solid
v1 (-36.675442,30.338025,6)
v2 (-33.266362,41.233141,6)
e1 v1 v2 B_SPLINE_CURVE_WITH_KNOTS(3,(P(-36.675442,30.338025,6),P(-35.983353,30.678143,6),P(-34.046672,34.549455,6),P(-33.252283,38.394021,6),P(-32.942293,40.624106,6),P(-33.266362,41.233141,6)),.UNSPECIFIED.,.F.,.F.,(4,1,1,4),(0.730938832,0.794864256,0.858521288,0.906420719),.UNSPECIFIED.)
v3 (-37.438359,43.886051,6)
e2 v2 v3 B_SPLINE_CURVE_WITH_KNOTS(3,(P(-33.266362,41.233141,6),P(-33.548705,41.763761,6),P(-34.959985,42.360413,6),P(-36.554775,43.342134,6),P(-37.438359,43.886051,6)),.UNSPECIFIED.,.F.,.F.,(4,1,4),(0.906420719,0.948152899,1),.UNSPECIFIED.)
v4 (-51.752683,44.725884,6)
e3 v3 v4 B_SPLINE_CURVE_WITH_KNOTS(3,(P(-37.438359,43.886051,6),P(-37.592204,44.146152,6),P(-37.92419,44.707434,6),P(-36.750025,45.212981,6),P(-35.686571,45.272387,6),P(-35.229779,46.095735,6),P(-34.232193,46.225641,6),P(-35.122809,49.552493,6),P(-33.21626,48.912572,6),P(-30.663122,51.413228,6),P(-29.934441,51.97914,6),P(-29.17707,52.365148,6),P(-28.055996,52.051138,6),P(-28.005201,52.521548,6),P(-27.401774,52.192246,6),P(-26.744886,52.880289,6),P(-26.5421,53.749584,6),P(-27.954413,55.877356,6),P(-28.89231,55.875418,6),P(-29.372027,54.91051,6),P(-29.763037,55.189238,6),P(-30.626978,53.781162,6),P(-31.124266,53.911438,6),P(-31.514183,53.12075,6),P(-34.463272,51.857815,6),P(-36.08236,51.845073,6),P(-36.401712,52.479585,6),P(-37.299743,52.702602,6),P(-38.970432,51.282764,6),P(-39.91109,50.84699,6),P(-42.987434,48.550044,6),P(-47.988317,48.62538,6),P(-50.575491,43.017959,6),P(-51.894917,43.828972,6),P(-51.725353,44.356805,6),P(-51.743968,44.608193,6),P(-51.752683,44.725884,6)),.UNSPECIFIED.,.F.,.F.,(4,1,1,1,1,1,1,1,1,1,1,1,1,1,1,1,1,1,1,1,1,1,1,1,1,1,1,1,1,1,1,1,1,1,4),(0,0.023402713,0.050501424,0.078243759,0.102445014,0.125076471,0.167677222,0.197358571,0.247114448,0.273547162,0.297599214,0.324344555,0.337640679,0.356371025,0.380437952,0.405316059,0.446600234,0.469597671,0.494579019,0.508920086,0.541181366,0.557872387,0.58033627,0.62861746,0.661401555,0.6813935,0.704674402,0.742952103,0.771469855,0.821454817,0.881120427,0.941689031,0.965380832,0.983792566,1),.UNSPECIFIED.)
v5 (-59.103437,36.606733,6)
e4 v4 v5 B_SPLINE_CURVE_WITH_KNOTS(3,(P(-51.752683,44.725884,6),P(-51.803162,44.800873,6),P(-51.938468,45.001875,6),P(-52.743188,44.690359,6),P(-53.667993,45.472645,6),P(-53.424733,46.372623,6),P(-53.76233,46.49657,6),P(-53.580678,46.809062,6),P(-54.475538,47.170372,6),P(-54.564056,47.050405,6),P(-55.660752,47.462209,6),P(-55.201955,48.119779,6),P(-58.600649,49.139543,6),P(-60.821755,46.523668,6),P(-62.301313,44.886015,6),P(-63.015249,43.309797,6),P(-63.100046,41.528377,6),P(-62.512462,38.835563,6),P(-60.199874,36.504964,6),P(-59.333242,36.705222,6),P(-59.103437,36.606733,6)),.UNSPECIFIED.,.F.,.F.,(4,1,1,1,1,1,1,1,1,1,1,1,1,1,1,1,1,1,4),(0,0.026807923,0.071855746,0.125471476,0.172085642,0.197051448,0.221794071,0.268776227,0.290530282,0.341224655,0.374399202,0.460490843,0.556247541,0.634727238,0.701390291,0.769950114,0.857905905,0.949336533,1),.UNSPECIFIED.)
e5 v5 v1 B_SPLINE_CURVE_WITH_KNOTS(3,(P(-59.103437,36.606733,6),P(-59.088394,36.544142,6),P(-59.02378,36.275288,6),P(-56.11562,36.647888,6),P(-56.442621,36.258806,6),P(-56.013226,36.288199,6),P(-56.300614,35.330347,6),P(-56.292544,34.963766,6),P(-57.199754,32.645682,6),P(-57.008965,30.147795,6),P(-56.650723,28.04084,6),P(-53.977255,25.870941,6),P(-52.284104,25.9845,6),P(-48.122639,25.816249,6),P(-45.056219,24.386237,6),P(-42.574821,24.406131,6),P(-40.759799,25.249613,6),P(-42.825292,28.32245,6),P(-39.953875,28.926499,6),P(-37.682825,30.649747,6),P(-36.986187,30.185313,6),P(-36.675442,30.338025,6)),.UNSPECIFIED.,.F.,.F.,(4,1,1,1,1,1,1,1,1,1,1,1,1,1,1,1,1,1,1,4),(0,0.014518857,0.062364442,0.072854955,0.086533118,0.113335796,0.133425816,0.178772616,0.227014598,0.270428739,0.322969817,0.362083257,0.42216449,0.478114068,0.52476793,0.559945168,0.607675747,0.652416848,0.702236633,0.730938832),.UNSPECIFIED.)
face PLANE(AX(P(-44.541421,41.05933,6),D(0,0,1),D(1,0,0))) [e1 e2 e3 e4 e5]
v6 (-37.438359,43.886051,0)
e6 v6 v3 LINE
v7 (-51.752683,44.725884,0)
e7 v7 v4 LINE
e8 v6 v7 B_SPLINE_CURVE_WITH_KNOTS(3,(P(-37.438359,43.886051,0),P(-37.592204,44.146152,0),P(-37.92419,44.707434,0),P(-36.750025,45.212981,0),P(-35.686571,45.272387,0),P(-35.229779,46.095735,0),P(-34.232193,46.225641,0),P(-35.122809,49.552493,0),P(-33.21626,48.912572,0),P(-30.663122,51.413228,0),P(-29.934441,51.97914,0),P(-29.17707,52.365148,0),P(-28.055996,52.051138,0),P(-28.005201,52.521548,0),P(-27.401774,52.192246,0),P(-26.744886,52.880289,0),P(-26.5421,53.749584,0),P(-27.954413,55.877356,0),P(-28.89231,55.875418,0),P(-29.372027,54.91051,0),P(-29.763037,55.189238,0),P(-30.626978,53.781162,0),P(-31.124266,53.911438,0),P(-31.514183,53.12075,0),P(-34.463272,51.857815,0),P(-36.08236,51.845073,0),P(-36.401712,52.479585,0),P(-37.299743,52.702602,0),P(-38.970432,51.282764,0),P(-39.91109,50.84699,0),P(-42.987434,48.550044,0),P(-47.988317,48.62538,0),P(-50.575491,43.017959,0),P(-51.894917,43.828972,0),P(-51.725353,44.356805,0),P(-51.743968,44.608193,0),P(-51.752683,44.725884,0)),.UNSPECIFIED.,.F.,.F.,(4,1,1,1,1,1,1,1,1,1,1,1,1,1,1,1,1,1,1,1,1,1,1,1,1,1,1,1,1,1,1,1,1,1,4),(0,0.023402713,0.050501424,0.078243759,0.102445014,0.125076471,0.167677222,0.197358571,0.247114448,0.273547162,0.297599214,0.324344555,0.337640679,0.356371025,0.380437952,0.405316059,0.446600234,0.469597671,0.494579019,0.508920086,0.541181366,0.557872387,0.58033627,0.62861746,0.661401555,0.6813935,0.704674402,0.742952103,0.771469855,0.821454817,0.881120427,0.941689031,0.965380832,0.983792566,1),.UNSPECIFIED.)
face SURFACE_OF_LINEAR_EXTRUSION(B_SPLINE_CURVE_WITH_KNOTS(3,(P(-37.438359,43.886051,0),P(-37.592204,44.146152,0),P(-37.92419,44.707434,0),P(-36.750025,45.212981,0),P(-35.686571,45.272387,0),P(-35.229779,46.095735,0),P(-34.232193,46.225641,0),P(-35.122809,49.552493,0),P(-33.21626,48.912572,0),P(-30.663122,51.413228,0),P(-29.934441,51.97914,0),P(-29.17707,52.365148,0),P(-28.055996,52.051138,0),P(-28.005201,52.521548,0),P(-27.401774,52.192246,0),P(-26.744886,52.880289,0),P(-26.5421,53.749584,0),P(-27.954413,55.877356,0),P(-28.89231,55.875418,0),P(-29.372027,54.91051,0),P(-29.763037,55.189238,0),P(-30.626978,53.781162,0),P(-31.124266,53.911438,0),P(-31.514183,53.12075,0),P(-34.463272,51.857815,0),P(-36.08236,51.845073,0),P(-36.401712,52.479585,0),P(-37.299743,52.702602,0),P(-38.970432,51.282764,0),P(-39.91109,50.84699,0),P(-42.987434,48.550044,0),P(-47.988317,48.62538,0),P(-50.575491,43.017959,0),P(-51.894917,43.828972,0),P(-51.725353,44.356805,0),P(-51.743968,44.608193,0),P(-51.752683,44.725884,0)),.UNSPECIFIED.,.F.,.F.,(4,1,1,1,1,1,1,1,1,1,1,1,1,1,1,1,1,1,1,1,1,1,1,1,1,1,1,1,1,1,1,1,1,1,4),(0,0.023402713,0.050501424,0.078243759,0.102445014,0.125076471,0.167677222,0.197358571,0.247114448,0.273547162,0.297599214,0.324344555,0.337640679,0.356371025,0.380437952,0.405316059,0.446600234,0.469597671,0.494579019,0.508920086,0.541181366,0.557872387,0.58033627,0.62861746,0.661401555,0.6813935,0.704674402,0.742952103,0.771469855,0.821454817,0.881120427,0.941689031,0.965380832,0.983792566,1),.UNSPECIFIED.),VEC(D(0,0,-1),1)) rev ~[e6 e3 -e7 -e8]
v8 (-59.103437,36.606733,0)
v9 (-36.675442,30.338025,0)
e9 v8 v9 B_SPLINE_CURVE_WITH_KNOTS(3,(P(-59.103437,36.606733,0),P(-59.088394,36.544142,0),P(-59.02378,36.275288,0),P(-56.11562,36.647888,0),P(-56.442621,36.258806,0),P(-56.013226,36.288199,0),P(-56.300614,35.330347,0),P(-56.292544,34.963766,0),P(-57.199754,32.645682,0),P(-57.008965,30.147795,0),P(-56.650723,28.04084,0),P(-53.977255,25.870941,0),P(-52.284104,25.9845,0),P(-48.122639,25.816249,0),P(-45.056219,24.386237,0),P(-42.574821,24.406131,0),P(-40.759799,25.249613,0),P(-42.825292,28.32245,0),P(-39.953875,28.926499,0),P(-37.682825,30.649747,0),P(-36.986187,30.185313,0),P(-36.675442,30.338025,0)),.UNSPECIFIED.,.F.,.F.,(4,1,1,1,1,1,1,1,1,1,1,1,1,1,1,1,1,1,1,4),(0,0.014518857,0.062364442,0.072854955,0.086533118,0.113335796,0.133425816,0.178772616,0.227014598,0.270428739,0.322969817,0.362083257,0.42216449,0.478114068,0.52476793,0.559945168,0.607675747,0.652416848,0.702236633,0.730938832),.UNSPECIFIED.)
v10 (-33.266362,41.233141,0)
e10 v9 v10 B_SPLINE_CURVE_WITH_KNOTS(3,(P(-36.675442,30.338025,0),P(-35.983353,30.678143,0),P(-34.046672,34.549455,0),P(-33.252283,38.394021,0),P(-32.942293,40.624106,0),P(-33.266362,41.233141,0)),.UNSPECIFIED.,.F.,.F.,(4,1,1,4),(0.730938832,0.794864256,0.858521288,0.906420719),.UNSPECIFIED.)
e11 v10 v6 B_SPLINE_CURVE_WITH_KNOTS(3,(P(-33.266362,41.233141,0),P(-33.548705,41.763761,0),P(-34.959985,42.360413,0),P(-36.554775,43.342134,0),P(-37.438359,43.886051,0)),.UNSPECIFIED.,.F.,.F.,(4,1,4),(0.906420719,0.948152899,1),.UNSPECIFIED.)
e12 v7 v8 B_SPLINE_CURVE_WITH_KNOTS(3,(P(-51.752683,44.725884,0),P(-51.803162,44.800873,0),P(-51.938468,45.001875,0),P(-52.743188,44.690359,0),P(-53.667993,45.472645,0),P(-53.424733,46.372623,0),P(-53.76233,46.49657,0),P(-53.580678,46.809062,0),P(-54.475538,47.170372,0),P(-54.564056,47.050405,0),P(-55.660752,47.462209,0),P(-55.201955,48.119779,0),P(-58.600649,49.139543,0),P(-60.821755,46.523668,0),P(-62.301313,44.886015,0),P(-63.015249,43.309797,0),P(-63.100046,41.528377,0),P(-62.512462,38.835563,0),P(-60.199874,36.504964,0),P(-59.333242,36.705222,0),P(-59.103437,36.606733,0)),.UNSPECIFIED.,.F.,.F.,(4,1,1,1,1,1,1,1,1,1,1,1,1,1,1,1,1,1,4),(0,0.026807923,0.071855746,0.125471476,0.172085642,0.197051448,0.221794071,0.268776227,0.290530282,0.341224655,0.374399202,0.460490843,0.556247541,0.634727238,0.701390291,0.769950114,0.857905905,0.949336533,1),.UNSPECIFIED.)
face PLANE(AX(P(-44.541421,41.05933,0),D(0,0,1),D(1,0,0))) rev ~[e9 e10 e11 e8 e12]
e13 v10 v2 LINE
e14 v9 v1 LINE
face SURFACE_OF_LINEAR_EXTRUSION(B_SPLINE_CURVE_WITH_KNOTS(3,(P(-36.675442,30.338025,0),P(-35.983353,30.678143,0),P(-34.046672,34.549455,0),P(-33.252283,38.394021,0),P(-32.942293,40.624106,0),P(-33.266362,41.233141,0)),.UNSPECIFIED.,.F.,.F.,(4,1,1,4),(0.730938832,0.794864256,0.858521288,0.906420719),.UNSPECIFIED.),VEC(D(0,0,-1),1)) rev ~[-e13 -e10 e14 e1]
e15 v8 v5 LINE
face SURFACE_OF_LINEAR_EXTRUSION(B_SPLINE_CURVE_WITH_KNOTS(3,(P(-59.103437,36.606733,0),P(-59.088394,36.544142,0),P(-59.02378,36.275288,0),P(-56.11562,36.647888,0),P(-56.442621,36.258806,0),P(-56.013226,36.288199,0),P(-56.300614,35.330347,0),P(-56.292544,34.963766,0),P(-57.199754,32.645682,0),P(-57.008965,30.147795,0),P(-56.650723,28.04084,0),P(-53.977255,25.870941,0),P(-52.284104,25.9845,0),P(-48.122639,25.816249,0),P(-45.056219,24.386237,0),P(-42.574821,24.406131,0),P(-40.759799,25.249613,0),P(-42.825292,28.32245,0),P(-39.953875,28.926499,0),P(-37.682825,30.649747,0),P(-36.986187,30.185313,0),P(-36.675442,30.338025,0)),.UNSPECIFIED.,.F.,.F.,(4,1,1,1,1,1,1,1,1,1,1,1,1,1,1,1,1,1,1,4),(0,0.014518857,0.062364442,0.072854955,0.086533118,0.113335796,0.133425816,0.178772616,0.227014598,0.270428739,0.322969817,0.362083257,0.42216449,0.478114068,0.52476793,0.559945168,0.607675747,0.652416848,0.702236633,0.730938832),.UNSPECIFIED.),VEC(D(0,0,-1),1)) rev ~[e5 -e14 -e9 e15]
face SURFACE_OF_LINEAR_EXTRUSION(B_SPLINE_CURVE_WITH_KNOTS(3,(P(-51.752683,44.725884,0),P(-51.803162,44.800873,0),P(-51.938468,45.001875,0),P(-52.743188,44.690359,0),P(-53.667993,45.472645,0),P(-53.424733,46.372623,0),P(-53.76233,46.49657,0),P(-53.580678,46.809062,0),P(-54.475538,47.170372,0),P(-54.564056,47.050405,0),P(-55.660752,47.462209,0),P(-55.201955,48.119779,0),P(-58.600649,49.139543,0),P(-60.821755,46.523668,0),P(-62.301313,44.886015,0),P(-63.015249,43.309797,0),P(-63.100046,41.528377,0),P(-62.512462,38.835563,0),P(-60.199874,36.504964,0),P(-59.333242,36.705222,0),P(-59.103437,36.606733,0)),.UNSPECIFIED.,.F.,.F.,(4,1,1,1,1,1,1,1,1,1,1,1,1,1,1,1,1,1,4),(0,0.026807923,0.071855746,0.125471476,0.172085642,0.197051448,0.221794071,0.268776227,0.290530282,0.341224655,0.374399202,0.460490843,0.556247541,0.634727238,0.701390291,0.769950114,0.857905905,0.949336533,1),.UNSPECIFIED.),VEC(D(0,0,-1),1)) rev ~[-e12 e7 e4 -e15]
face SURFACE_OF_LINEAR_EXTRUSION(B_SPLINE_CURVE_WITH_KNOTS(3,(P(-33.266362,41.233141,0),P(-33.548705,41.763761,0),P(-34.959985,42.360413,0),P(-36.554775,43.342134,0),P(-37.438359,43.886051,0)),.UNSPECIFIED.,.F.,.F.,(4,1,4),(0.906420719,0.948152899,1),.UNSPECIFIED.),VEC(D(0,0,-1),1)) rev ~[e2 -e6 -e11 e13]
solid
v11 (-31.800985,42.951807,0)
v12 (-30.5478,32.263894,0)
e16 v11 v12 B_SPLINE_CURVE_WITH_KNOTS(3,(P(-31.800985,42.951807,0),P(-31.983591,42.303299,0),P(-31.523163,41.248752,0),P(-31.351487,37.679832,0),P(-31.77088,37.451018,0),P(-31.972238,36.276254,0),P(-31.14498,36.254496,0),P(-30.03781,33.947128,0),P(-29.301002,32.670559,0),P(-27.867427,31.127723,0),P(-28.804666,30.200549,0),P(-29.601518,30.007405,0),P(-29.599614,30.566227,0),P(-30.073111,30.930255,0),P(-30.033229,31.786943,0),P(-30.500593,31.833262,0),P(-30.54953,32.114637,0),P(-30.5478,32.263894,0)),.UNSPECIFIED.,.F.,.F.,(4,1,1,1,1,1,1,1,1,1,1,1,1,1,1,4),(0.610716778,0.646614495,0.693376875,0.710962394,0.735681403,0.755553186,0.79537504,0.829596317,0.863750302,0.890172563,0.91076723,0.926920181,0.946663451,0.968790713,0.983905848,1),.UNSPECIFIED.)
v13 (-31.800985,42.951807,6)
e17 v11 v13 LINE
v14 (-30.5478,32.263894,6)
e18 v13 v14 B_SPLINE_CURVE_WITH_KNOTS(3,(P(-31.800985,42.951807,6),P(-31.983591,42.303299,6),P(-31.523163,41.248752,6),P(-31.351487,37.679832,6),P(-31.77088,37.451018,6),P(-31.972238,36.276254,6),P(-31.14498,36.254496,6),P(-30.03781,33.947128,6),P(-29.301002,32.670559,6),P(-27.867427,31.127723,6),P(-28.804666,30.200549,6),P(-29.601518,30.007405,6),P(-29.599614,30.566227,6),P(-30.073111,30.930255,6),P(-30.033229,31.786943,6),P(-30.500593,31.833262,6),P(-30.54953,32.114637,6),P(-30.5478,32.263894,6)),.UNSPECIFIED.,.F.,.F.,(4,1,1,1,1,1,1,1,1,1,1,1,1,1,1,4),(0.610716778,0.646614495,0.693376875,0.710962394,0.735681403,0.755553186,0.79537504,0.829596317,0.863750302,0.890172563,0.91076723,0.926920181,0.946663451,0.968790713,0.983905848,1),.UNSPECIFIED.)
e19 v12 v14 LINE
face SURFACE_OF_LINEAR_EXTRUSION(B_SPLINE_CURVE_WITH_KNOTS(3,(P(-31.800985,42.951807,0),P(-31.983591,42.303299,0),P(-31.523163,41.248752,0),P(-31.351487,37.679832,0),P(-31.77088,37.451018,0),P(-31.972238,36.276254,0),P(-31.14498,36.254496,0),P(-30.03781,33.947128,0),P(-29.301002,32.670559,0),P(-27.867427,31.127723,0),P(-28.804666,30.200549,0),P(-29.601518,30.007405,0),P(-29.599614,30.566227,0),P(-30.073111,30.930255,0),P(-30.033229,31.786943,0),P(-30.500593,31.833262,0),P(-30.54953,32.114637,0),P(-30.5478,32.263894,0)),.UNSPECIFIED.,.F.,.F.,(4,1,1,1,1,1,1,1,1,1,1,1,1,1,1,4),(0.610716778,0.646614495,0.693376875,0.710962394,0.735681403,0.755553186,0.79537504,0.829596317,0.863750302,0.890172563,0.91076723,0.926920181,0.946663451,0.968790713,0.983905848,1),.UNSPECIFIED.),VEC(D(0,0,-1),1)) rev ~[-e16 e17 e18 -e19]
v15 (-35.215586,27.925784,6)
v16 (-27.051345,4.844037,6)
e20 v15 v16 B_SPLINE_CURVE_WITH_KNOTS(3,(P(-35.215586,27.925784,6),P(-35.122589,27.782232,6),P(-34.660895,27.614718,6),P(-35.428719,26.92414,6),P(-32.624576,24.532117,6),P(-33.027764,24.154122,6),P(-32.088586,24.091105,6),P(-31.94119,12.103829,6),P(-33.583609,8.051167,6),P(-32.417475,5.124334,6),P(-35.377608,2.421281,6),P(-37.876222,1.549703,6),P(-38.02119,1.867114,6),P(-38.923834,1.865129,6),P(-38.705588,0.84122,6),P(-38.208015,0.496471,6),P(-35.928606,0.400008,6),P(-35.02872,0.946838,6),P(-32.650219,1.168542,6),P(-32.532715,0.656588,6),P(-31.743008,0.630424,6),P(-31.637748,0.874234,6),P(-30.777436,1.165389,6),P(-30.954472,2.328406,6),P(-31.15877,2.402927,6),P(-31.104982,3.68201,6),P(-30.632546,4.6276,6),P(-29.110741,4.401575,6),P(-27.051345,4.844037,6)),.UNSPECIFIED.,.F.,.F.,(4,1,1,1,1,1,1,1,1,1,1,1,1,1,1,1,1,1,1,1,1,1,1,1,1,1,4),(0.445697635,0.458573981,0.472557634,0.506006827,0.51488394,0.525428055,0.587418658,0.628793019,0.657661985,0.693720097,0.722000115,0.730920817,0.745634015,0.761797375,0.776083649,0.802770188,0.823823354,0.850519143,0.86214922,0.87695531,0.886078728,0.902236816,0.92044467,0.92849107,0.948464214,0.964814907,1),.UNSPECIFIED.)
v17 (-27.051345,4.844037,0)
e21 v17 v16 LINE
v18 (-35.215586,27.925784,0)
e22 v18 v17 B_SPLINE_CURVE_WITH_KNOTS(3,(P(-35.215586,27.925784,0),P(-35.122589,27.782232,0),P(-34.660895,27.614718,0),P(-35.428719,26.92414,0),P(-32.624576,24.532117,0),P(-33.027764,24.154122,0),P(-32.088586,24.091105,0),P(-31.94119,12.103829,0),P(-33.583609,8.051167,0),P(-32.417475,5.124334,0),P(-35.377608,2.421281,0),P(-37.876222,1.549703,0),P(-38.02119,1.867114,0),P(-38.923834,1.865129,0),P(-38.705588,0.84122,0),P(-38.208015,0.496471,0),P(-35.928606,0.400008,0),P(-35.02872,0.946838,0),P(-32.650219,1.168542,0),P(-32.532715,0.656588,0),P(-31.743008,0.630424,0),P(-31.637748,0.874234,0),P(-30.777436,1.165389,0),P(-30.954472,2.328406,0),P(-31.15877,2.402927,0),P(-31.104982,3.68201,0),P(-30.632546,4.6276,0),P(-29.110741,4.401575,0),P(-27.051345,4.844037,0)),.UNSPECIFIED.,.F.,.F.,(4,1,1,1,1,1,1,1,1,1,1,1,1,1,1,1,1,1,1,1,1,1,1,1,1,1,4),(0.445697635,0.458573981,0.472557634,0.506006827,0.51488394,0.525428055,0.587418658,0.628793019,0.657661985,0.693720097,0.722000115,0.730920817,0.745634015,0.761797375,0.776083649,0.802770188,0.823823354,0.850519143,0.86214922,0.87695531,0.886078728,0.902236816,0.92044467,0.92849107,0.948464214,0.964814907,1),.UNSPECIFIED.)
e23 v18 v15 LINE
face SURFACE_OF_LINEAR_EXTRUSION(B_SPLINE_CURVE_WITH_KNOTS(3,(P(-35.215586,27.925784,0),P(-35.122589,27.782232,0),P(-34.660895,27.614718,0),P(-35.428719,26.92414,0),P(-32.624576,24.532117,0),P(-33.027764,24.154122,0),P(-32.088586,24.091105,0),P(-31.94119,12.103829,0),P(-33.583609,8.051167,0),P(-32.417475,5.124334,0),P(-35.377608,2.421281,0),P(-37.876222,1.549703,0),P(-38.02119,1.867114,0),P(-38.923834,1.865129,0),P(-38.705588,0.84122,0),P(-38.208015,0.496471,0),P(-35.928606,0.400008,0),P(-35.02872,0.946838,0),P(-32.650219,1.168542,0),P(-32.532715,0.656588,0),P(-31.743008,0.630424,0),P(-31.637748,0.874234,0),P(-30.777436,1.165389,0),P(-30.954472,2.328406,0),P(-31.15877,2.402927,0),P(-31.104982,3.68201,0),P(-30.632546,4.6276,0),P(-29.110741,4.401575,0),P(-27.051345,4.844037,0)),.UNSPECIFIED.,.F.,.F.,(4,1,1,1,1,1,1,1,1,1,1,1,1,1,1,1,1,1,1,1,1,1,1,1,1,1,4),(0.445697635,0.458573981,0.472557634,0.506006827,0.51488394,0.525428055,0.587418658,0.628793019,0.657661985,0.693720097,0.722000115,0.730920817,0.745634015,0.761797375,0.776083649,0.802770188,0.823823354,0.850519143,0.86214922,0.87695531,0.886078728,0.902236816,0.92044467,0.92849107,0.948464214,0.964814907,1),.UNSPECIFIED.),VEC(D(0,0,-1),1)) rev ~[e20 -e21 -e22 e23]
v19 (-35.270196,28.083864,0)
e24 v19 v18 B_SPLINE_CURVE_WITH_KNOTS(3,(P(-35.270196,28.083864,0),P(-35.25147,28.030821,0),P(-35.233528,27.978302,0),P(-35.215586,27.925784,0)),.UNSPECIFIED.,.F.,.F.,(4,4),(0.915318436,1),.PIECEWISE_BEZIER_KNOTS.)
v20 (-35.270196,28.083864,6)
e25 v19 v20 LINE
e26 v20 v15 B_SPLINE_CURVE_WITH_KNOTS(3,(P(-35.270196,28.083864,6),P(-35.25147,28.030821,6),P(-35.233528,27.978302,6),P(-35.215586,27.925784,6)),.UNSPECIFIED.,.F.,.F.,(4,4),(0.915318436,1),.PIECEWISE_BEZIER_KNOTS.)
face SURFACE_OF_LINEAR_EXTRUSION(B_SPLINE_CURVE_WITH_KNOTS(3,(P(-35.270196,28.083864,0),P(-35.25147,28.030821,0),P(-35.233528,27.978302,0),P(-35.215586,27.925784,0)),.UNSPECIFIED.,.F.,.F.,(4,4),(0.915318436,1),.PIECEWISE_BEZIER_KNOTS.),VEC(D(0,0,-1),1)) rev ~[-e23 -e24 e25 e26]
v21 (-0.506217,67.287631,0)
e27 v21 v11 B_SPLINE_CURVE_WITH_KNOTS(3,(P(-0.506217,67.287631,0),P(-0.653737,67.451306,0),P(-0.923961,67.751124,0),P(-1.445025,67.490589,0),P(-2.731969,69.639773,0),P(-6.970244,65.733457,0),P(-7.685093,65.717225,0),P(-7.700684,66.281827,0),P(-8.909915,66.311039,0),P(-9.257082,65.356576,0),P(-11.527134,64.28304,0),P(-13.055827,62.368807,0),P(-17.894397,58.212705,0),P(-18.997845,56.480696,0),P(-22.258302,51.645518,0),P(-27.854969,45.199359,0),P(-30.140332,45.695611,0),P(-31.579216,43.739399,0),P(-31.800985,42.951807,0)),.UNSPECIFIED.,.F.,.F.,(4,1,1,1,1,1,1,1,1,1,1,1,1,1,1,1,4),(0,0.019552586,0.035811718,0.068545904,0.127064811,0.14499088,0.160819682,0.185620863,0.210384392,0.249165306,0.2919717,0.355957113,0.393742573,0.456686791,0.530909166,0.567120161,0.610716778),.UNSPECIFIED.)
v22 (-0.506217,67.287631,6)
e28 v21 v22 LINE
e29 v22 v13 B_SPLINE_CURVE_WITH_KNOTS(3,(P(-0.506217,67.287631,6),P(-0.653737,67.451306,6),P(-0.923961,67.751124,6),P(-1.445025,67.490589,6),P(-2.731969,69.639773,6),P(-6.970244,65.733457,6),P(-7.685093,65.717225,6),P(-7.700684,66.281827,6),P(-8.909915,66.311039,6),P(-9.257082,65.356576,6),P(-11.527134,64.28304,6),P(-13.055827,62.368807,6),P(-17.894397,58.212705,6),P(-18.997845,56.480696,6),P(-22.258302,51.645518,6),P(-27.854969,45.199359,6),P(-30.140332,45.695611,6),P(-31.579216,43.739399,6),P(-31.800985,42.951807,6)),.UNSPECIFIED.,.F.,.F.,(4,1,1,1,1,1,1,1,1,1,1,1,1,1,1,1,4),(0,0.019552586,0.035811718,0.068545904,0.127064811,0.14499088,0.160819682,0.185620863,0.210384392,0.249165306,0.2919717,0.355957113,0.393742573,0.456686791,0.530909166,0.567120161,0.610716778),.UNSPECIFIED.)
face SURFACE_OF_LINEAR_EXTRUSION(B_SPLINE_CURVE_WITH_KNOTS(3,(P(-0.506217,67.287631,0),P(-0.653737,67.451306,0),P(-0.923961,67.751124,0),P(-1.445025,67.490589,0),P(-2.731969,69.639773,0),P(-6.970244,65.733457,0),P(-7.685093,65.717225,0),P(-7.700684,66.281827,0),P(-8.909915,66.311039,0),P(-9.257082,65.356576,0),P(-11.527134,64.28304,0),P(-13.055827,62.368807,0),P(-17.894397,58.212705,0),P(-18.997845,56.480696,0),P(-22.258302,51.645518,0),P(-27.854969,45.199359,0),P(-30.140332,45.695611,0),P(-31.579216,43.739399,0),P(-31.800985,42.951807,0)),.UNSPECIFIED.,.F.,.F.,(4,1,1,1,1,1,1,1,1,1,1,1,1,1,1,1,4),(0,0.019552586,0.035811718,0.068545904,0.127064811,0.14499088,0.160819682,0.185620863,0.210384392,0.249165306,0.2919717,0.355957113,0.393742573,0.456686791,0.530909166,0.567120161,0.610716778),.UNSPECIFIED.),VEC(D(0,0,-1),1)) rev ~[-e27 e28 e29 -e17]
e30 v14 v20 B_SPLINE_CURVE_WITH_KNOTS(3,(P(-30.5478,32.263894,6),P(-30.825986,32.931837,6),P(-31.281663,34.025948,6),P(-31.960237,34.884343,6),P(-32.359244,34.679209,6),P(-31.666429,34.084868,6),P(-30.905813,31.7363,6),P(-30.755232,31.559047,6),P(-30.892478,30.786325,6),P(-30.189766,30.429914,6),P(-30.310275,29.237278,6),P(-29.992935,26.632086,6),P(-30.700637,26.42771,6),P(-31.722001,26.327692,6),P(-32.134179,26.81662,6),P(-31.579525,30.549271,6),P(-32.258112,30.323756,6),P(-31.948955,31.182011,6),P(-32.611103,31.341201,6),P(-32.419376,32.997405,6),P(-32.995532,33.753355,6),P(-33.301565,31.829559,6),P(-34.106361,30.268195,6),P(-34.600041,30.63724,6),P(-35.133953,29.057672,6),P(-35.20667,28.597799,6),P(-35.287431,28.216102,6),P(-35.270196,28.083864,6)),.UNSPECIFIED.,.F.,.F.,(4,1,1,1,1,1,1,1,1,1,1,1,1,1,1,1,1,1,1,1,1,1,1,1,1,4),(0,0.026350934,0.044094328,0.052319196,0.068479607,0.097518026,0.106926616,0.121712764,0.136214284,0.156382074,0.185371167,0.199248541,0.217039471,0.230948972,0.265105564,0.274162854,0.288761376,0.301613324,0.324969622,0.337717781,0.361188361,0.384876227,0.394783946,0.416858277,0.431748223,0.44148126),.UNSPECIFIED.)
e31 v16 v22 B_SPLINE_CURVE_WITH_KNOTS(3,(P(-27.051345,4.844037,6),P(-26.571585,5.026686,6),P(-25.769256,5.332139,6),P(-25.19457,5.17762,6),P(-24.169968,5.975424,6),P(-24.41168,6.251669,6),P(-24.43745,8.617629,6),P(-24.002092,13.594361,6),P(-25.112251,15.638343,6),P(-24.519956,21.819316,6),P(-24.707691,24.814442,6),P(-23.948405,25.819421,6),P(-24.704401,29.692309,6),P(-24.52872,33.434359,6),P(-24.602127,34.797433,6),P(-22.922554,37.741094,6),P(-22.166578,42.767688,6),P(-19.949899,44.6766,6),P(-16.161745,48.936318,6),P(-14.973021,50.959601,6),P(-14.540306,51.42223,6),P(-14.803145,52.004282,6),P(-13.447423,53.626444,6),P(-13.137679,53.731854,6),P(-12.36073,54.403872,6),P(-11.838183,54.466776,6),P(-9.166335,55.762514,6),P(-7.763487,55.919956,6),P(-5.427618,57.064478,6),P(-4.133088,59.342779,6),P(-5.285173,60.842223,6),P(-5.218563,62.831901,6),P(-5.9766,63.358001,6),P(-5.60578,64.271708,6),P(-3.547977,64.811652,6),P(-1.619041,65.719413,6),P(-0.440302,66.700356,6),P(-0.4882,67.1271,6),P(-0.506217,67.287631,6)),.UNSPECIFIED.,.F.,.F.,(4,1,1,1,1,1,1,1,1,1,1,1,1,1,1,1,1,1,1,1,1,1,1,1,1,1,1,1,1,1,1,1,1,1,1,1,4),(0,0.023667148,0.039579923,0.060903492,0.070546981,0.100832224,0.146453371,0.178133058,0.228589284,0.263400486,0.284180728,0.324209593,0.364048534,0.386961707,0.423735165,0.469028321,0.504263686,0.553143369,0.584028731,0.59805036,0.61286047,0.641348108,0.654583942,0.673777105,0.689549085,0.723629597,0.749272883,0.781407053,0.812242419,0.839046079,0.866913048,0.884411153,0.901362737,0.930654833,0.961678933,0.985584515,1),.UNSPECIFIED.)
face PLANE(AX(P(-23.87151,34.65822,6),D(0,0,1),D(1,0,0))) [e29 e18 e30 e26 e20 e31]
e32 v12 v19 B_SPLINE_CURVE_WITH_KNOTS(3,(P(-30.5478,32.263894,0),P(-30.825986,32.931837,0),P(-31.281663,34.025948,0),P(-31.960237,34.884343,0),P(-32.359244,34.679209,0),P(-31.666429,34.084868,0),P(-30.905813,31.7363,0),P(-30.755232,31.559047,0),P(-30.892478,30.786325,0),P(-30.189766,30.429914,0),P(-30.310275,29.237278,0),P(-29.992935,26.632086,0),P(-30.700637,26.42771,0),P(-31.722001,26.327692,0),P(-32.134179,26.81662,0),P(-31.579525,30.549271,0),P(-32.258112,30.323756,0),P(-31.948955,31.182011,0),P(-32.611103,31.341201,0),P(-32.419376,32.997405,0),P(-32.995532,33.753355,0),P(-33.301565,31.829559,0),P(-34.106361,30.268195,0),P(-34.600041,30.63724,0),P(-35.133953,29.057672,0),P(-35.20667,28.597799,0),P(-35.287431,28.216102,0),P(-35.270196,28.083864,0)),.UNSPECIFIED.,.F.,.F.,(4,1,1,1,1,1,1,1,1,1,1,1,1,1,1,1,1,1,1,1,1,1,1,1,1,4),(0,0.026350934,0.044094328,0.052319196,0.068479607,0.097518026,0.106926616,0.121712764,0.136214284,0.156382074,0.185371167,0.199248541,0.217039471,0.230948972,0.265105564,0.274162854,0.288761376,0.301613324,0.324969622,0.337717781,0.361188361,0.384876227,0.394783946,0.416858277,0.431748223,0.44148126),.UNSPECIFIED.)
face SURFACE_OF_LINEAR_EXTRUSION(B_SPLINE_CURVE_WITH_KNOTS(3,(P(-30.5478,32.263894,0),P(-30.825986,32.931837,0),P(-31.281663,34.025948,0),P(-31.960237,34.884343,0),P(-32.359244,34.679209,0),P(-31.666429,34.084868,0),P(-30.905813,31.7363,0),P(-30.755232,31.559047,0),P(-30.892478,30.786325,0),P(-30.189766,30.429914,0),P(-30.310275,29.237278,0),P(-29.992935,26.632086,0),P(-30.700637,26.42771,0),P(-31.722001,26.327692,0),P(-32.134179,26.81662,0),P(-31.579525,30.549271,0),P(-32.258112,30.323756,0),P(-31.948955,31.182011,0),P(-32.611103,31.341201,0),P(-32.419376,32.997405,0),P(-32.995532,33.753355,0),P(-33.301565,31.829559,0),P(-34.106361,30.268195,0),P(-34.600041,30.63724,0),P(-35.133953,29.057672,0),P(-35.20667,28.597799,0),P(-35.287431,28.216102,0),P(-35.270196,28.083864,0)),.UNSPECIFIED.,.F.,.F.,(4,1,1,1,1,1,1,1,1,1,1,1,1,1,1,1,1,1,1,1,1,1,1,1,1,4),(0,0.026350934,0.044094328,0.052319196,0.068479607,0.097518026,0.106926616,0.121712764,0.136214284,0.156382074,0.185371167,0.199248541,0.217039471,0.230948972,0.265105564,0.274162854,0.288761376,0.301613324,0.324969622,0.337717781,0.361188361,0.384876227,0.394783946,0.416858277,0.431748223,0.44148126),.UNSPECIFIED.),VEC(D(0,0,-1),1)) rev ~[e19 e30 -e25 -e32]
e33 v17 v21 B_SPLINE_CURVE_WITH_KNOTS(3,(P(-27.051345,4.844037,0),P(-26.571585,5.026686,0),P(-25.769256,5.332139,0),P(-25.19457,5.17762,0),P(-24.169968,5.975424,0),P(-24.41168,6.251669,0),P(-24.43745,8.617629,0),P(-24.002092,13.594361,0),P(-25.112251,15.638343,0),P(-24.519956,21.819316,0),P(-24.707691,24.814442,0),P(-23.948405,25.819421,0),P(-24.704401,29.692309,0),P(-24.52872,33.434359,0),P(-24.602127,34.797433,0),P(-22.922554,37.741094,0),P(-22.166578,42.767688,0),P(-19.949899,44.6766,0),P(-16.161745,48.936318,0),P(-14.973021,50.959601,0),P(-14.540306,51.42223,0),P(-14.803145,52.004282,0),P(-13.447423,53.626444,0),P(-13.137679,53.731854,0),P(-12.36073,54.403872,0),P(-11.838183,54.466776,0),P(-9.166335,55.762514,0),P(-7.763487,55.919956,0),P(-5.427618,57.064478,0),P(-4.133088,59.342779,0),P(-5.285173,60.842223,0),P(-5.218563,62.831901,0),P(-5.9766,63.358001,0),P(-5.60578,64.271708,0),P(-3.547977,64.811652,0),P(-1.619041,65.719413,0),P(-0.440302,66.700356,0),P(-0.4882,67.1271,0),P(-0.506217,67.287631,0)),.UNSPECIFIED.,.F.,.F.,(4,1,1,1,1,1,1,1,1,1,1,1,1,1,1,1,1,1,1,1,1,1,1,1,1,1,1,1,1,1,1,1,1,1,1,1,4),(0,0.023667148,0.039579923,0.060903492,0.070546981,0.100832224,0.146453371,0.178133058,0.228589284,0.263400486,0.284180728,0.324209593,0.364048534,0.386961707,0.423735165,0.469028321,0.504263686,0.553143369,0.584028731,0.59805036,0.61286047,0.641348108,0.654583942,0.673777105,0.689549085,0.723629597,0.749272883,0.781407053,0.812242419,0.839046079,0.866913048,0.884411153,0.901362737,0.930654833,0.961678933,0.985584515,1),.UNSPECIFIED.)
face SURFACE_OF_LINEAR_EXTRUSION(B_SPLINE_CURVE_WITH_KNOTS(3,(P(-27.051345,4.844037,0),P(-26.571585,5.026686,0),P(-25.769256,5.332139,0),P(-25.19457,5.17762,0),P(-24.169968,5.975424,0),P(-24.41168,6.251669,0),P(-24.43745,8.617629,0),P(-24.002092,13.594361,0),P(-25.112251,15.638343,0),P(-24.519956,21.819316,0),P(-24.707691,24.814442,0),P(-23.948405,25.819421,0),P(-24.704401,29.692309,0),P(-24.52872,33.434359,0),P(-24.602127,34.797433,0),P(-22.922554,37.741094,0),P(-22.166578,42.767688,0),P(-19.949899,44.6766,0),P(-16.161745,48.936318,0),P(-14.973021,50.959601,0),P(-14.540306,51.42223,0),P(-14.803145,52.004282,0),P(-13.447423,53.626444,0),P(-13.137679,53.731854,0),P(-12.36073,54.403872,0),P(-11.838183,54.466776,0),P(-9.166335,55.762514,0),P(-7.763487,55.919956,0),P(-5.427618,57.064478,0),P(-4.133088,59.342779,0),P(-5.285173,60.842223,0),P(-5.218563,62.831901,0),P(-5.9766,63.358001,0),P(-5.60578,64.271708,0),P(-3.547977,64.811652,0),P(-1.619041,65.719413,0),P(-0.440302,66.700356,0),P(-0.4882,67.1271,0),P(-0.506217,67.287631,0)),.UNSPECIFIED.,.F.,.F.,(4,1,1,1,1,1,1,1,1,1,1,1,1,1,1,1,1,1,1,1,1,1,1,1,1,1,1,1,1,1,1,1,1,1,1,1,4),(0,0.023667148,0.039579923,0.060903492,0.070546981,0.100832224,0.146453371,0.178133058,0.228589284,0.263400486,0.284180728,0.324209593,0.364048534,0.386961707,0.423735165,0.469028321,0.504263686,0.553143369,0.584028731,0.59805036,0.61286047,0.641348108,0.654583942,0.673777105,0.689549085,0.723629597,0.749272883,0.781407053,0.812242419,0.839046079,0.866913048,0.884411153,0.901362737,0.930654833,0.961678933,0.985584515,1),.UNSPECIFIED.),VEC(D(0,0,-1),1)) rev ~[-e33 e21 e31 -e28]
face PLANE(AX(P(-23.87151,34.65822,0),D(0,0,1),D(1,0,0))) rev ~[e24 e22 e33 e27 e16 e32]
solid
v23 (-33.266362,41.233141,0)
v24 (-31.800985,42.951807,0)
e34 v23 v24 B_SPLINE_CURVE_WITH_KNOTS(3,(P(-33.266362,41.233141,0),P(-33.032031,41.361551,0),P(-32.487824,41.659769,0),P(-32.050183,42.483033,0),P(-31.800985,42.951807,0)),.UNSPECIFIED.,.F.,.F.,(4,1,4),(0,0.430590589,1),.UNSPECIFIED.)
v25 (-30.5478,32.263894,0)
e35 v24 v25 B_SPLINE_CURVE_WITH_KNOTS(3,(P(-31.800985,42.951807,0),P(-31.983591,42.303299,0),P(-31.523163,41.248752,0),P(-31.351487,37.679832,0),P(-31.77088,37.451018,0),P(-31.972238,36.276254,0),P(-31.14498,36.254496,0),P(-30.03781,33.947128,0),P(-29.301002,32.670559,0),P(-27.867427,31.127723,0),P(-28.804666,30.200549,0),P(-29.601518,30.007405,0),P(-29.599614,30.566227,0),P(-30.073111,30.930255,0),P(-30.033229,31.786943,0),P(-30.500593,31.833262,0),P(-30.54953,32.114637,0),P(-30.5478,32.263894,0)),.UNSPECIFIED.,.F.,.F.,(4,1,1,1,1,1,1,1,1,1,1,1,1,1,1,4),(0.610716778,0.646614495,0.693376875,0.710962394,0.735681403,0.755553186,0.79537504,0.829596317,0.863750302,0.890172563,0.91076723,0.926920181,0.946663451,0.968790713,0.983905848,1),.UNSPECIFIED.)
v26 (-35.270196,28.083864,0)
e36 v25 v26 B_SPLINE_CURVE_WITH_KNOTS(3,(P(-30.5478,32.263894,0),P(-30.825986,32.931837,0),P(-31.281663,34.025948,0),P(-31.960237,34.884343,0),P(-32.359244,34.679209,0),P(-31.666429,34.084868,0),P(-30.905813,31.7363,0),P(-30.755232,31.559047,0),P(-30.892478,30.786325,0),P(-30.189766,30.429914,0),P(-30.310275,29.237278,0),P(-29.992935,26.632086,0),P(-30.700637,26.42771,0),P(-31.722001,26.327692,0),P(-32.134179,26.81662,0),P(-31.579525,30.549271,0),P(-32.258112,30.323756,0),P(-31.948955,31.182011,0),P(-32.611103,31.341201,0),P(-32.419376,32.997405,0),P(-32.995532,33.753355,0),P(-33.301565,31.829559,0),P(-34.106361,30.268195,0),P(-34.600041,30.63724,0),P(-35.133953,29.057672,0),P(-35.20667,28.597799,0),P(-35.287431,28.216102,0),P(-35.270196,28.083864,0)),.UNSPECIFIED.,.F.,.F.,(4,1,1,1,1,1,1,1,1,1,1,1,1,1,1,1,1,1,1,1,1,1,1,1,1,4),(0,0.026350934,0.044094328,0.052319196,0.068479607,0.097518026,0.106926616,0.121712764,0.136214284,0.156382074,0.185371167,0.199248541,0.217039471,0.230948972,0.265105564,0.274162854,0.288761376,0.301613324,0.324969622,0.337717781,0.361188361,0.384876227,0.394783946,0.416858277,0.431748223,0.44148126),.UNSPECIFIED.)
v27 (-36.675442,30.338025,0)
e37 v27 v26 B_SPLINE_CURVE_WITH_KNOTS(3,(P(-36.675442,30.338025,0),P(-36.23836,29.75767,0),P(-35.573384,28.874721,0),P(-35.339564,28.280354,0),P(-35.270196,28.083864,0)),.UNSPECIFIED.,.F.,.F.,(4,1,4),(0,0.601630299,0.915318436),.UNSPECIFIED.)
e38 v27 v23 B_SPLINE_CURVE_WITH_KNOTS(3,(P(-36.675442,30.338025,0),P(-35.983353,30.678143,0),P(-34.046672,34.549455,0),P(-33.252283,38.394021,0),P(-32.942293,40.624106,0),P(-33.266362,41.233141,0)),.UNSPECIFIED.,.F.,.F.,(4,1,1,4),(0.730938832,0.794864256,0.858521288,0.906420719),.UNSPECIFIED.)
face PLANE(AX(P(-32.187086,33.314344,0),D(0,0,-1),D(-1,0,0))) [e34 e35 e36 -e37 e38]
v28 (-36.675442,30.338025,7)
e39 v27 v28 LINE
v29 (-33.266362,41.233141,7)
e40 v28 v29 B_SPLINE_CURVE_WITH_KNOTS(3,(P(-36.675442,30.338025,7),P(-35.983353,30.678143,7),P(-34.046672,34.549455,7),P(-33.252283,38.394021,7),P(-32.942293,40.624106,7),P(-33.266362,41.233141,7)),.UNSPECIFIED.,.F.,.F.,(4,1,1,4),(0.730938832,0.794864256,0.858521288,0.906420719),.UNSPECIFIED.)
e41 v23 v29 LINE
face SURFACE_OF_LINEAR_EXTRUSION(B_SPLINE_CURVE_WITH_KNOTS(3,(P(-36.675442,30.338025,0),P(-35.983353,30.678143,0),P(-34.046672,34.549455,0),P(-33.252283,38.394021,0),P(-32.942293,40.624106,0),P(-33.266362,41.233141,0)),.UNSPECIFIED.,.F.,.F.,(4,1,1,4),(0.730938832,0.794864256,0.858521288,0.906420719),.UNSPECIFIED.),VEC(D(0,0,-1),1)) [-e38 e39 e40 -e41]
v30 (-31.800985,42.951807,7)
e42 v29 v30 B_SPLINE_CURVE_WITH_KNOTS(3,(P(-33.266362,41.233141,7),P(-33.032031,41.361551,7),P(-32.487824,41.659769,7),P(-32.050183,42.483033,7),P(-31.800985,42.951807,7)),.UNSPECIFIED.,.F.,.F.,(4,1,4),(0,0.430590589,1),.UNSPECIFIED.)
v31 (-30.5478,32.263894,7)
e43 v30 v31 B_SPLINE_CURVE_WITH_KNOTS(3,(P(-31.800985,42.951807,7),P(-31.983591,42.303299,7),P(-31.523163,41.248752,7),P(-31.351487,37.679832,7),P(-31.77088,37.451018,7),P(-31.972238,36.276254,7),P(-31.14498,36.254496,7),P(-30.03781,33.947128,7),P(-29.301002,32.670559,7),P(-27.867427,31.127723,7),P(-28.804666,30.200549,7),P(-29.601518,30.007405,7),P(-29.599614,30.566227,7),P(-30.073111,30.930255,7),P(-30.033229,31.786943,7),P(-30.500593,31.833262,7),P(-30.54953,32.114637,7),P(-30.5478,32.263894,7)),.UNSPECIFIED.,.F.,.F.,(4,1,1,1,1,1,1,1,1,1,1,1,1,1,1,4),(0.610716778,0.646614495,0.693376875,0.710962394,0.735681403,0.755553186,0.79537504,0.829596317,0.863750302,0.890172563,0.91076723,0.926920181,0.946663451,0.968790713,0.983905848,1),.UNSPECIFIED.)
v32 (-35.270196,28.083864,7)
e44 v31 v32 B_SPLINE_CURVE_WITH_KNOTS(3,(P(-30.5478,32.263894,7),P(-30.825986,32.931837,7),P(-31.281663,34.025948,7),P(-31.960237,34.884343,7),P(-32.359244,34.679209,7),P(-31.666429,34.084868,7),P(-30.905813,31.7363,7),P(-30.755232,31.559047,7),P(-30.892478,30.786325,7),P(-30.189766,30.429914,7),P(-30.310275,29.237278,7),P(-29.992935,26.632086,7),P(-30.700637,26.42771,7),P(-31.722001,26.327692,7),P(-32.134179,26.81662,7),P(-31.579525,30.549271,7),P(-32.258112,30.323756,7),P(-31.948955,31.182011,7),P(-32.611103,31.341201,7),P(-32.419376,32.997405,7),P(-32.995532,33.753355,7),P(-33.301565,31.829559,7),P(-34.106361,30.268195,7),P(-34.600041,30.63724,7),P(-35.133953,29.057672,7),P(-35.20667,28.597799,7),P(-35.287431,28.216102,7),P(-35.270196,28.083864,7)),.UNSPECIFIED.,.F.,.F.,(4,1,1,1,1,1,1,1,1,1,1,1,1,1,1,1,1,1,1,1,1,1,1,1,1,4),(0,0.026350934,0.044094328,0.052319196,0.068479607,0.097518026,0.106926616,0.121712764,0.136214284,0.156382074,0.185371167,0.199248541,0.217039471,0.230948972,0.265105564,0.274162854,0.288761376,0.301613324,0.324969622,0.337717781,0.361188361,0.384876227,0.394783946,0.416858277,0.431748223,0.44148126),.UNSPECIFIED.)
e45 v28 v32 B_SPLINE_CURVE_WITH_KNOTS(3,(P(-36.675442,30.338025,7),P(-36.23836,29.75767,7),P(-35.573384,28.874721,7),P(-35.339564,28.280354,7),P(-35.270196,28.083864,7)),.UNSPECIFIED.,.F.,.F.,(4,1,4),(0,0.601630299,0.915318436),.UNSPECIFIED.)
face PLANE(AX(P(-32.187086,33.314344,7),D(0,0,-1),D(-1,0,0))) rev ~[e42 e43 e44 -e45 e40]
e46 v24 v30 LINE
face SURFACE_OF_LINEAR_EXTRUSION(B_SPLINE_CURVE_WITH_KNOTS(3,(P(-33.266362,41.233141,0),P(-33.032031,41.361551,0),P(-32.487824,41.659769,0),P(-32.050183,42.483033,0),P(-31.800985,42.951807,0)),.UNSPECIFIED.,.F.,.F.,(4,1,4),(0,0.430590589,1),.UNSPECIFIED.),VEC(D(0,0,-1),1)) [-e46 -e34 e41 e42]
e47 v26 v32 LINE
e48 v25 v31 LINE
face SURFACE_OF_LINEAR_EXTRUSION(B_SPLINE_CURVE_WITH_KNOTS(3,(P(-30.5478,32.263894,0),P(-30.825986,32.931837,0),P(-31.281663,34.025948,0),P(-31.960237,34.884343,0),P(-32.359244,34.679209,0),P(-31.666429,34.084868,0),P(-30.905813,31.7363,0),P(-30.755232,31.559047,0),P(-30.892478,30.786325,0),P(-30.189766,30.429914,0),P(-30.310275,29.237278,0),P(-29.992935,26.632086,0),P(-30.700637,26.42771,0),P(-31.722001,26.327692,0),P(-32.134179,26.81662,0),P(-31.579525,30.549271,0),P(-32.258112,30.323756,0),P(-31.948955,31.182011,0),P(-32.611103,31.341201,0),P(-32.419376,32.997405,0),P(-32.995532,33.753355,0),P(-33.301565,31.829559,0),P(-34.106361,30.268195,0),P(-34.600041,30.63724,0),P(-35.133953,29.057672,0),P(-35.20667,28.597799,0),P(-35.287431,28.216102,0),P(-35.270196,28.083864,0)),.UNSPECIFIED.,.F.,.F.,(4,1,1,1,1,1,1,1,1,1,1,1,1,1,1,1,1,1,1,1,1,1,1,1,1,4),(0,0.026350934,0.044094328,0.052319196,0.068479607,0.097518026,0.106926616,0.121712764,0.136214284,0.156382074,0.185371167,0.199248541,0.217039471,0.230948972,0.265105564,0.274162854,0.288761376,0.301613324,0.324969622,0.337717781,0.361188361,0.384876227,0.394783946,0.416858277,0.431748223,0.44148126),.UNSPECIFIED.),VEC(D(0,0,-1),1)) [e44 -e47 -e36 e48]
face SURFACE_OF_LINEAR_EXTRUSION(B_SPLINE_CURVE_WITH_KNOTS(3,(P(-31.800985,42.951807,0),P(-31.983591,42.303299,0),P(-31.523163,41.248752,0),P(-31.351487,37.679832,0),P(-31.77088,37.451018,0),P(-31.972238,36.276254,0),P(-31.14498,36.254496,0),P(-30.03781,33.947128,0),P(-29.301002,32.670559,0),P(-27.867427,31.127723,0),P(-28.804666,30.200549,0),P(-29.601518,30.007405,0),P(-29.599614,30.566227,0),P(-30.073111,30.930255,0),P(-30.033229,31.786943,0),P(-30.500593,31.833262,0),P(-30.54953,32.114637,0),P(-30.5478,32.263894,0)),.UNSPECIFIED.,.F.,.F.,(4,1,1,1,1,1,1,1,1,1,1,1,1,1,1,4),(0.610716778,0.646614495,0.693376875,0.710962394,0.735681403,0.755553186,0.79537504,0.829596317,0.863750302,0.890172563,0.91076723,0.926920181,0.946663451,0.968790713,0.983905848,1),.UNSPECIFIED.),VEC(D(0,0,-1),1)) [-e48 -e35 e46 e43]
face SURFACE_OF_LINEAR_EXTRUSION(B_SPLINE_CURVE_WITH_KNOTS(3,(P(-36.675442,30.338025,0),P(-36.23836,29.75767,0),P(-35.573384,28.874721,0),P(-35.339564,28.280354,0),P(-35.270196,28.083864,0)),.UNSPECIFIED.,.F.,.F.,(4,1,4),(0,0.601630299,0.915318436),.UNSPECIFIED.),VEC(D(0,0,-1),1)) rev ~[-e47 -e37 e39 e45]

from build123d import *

# Parameters (mm, degrees)
F1_DEPTH = 6
F2_DEPTH = 7


with BuildPart() as f1:
    # F0 (on Top) → F1 (new body)
    with BuildSketch(Plane.XY):
        with BuildLine():
            add(Edge.make_bspline(
                [(-37.4383591115, 43.8860505819), (-37.5922037064, 44.1461524764), (-37.9241896232, 44.7074342425), (-36.7500254387, 45.2129809211), (-35.686571316, 45.2723867407), (-35.2297792602, 46.0957349356), (-34.2321932477, 46.2256408688), (-35.1228094568, 49.5524932795), (-33.2162595679, 48.9125717062), (-30.6631219351, 51.4132284412), (-29.9344414313, 51.9791404191), (-29.177069738, 52.365147907), (-28.055995878, 52.0511383246), (-28.0052005078, 52.5215481562), (-27.4017738984, 52.1922459973), (-26.7448857441, 52.880288695), (-26.5421000495, 53.7495844087), (-27.9544134397, 55.8773558018), (-28.8923098102, 55.8754182778), (-29.3720268326, 54.9105095398), (-29.7630370961, 55.1892381953), (-30.6269776516, 53.7811623089), (-31.1242664672, 53.9114384939), (-31.5141826378, 53.1207497994), (-34.4632717458, 51.8578154603), (-36.0823602954, 51.8450729867), (-36.4017117071, 52.4795845874), (-37.2997431718, 52.7026018314), (-38.970431851, 51.2827644957), (-39.9110902355, 50.8469896884), (-42.9874335864, 48.5500443996), (-47.9883169371, 48.6253798144), (-50.5754905137, 43.0179590107), (-51.8949170662, 43.8289721488), (-51.7253529565, 44.3568051163), (-51.7439679248, 44.6081930656), (-51.7526827753, 44.7258837521)],
                knots=[0, 0, 0, 0, 0.023402713, 0.0505014241, 0.078243759, 0.1024450143, 0.1250764709, 0.1676772223, 0.1973585708, 0.2471144478, 0.2735471624, 0.297599214, 0.3243445551, 0.3376406788, 0.3563710246, 0.3804379521, 0.4053160592, 0.4466002339, 0.4695976706, 0.4945790187, 0.5089200864, 0.5411813657, 0.5578723867, 0.5803362699, 0.6286174597, 0.661401555, 0.6813934998, 0.7046744024, 0.7429521034, 0.7714698551, 0.8214548166, 0.8811204271, 0.9416890308, 0.9653808321, 0.9837925658, 1, 1, 1, 1], degree=3))
            add(Edge.make_bspline(
                [(-51.7526827753, 44.7258837521), (-51.8031623924, 44.8008734388), (-51.938467559, 45.0018752021), (-52.7431876727, 44.6903589681), (-53.6679933193, 45.4726450871), (-53.4247327427, 46.3726233814), (-53.7623298188, 46.496569747), (-53.5806776466, 46.8090624032), (-54.4755384717, 47.1703721438), (-54.5640556487, 47.0504045065), (-55.6607521141, 47.4622088467), (-55.2019545635, 48.1197792417), (-58.6006493801, 49.1395427323), (-60.8217553767, 46.5236683663), (-62.3013125819, 44.8860146269), (-63.0152491598, 43.3097968179), (-63.1000463462, 41.5283773342), (-62.512461762, 38.8355627574), (-60.1998740627, 36.5049641069), (-59.333242476, 36.7052219808), (-59.1034367681, 36.6067327559)],
                knots=[0, 0, 0, 0, 0.0268079234, 0.071855746, 0.1254714761, 0.1720856418, 0.1970514479, 0.2217940713, 0.2687762271, 0.2905302816, 0.3412246549, 0.374399202, 0.4604908433, 0.5562475412, 0.6347272375, 0.7013902907, 0.7699501136, 0.8579059053, 0.9493365333, 1, 1, 1, 1], degree=3))
            add(Edge.make_bspline(
                [(-59.1034367681, 36.6067327559), (-59.0883942259, 36.5441418052), (-59.0237803431, 36.2752880232), (-56.1156201325, 36.6478881787), (-56.4426209586, 36.2588059332), (-56.0132256534, 36.288198829), (-56.3006142919, 35.3303465437), (-56.2925444506, 34.9637656418), (-57.1997540377, 32.6456817144), (-57.0089645476, 30.1477948486), (-56.6507229215, 28.0408401285), (-53.9772548174, 25.870940761), (-52.2841036909, 25.9844997015), (-48.1226391415, 25.8162494482), (-45.0562185052, 24.3862367441), (-42.574821013, 24.4061312537), (-40.7597990869, 25.2496125489), (-42.8252923629, 28.3224498432), (-39.9538749836, 28.9264991842), (-37.682825416, 30.6497468766), (-36.9861867326, 30.1853134735), (-36.6754420102, 30.3380247205)],
                knots=[0, 0, 0, 0, 0.0145188573, 0.0623644416, 0.0728549549, 0.0865331181, 0.1133357964, 0.1334258164, 0.1787726159, 0.2270145983, 0.270428739, 0.3229698168, 0.3620832571, 0.4221644896, 0.4781140683, 0.5247679296, 0.5599451677, 0.6076757468, 0.6524168484, 0.7022366325, 0.730938832, 0.730938832, 0.730938832, 0.730938832], degree=3))
            add(Edge.make_bspline(
                [(-36.6754420102, 30.3380247205), (-35.983352609, 30.6781425983), (-34.0466723667, 34.5494549383), (-33.2522831009, 38.3940211283), (-32.9422929632, 40.624105503), (-33.2663618028, 41.2331409752)],
                knots=[0.730938832, 0.730938832, 0.730938832, 0.730938832, 0.7948642557, 0.8585212876, 0.9064207194, 0.9064207194, 0.9064207194, 0.9064207194], degree=3))
            add(Edge.make_bspline(
                [(-33.2663618028, 41.2331409752), (-33.5487054251, 41.7637605853), (-34.9599851099, 42.3604134711), (-36.5547745423, 43.3421337201), (-37.4383591115, 43.8860505819)],
                knots=[0.9064207194, 0.9064207194, 0.9064207194, 0.9064207194, 0.9481528993, 1, 1, 1, 1], degree=3))
        make_face()
    extrude(amount=F1_DEPTH)


with BuildPart() as f1b:
    # F0 (on Top) → F1, piece 2 (new body)
    with BuildSketch(Plane.XY):
        with BuildLine():
            add(Edge.make_bspline(
                [(-30.5477995425, 32.2638936341), (-30.8259861982, 32.9318374784), (-31.2816634665, 34.0259475666), (-31.9602367436, 34.8843429425), (-32.3592444627, 34.6792088573), (-31.6664294702, 34.0848684637), (-30.9058128534, 31.7362996505), (-30.7552317832, 31.5590472352), (-30.8924777047, 30.786324938), (-30.1897658271, 30.4299136187), (-30.3102745341, 29.2372777766), (-29.9929347991, 26.6320859943), (-30.7006366063, 26.4277102856), (-31.7220006078, 26.3276921777), (-32.1341794292, 26.8166201283), (-31.5795252587, 30.5492707862), (-32.2581120518, 30.3237563387), (-31.9489549464, 31.1820106544), (-32.6111029681, 31.3412009001), (-32.4193759611, 32.9974050461), (-32.9955320646, 33.7533551936), (-33.3015650113, 31.8295593185), (-34.1063608356, 30.2681945805), (-34.6000410032, 30.6372395968), (-35.1339531533, 29.0576720566), (-35.2066699544, 28.5977991996), (-35.2874309994, 28.2161022776), (-35.2701960817, 28.0838639306)],
                knots=[0, 0, 0, 0, 0.026350934, 0.0440943278, 0.0523191965, 0.0684796068, 0.0975180261, 0.1069266163, 0.1217127643, 0.1362142844, 0.1563820745, 0.1853711669, 0.199248541, 0.2170394707, 0.2309489717, 0.2651055639, 0.2741628536, 0.2887613758, 0.3016133236, 0.3249696218, 0.3377177808, 0.3611883611, 0.384876227, 0.3947839463, 0.416858277, 0.4317482235, 0.4414812599, 0.4414812599, 0.4414812599, 0.4414812599], degree=3))
            add(Edge.make_bspline(
                [(-35.2701960817, 28.0838639306), (-35.2514698901, 28.0308205053), (-35.233528157, 27.9783021368), (-35.2155864239, 27.9257837683)],
                knots=[0.9153184365, 0.9153184365, 0.9153184365, 0.9153184365, 1, 1, 1, 1], degree=3))
            add(Edge.make_bspline(
                [(-35.2155864239, 27.9257837683), (-35.1225894441, 27.782231859), (-34.6608945354, 27.614717869), (-35.4287186056, 26.9241398056), (-32.6245758386, 24.5321166679), (-33.0277636384, 24.1541216624), (-32.0885858298, 24.0911045909), (-31.9411897651, 12.1038293897), (-33.5836089863, 8.051166642), (-32.4174748212, 5.1243343643), (-35.3776083056, 2.4212814166), (-37.8762216183, 1.5497030489), (-38.0211900926, 1.8671135421), (-38.9238343546, 1.8651286022), (-38.7055881932, 0.8412195129), (-38.2080148566, 0.4964705787), (-35.9286064778, 0.4000078887), (-35.0287203768, 0.9468382475), (-32.6502192496, 1.1685415698), (-32.532715294, 0.65658837), (-31.7430080487, 0.6304241584), (-31.6377484617, 0.8742342732), (-30.7774356885, 1.165388718), (-30.9544720827, 2.3284060591), (-31.158770279, 2.4029265582), (-31.104981997, 3.6820102301), (-30.6325457375, 4.6275997449), (-29.1107411732, 4.4015754198), (-27.0513445139, 4.8440368846)],
                knots=[0.4456976348, 0.4456976348, 0.4456976348, 0.4456976348, 0.4585739807, 0.4725576344, 0.5060068273, 0.5148839401, 0.5254280548, 0.5874186576, 0.6287930189, 0.6576619848, 0.6937200974, 0.7220001149, 0.7309208169, 0.7456340152, 0.761797375, 0.7760836495, 0.8027701879, 0.8238233535, 0.8505191429, 0.8621492205, 0.8769553095, 0.8860787277, 0.9022368158, 0.9204446704, 0.9284910699, 0.9484642143, 0.9648149069, 1, 1, 1, 1], degree=3))
            add(Edge.make_bspline(
                [(-27.0513445139, 4.8440368846), (-26.5715850361, 5.02668558), (-25.7692558933, 5.3321394126), (-25.1945696671, 5.1776198493), (-24.1699680164, 5.9754241401), (-24.4116801624, 6.2516694153), (-24.4374501762, 8.6176287809), (-24.0020917074, 13.5943611221), (-25.1122509655, 15.6383425614), (-24.519956342, 21.8193155119), (-24.7076905628, 24.8144418561), (-23.9484046471, 25.8194209262), (-24.704400714, 29.692309476), (-24.5287199142, 33.4343587304), (-24.6021269008, 34.7974330264), (-22.9225541127, 37.7410940651), (-22.166577687, 42.7676878783), (-19.9498989296, 44.6766003341), (-16.1617451148, 48.9363176691), (-14.973021169, 50.9596005241), (-14.5403063749, 51.4222300614), (-14.803145411, 52.0042819573), (-13.4474233312, 53.6264440966), (-13.1376790476, 53.7318536856), (-12.3607297609, 54.4038722663), (-11.8381828715, 54.4667755875), (-9.1663354896, 55.7625136469), (-7.763487121, 55.9199559546), (-5.4276180463, 57.0644778772), (-4.1330877594, 59.3427786116), (-5.285172611, 60.8422234277), (-5.218563354, 62.8319014001), (-5.9765998061, 63.3580009312), (-5.6057798054, 64.271708433), (-3.5479768912, 64.8116517948), (-1.6190407064, 65.7194126331), (-0.4403022411, 66.7003558794), (-0.4881996106, 67.1271001649), (-0.506217475, 67.2876313329)],
                knots=[0, 0, 0, 0, 0.0236671485, 0.0395799225, 0.0609034924, 0.0705469814, 0.1008322238, 0.1464533707, 0.1781330576, 0.2285892844, 0.2634004859, 0.2841807279, 0.3242095931, 0.3640485341, 0.3869617071, 0.4237351652, 0.4690283206, 0.5042636855, 0.5531433693, 0.584028731, 0.5980503604, 0.61286047, 0.6413481076, 0.6545839422, 0.6737771046, 0.689549085, 0.7236295975, 0.749272883, 0.7814070532, 0.8122424185, 0.8390460795, 0.8669130477, 0.8844111525, 0.9013627368, 0.9306548326, 0.9616789329, 0.9855845154, 1, 1, 1, 1], degree=3))
            add(Edge.make_bspline(
                [(-0.506217475, 67.2876313329), (-0.6537367831, 67.4513061432), (-0.9239609841, 67.7511238106), (-1.4450250762, 67.4905888144), (-2.731968677, 69.6397734175), (-6.9702444973, 65.7334571811), (-7.6850931813, 65.7172250878), (-7.7006838289, 66.2818273814), (-8.9099153739, 66.311038728), (-9.2570823525, 65.356575894), (-11.5271342324, 64.2830400177), (-13.0558267349, 62.368806712), (-17.8943966838, 58.212705388), (-18.9978445878, 56.4806960241), (-22.2583024945, 51.6455176424), (-27.8549691264, 45.1993592961), (-30.1403324886, 45.6956114979), (-31.5792162756, 43.7393994248), (-31.8009853363, 42.9518073797)],
                knots=[0, 0, 0, 0, 0.0195525864, 0.035811718, 0.0685459036, 0.1270648111, 0.1449908802, 0.1608196821, 0.1856208627, 0.2103843916, 0.2491653059, 0.2919717004, 0.3559571131, 0.393742573, 0.4566867913, 0.5309091658, 0.567120161, 0.6107167779, 0.6107167779, 0.6107167779, 0.6107167779], degree=3))
            add(Edge.make_bspline(
                [(-31.8009853363, 42.9518073797), (-31.9835913162, 42.3032993477), (-31.5231626493, 41.2487520705), (-31.3514866101, 37.6798323756), (-31.7708803543, 37.451018234), (-31.9722383495, 36.2762544023), (-31.1449799863, 36.2544957586), (-30.0378102711, 33.9471282602), (-29.3010020442, 32.6705591271), (-27.8674265498, 31.1277234947), (-28.8046664653, 30.2005494014), (-29.6015184284, 30.0074054541), (-29.5996137081, 30.566226712), (-30.0731113389, 30.9302547356), (-30.0332290243, 31.7869425738), (-30.50059334, 31.8332616908), (-30.5495296596, 32.1146365113), (-30.5477995425, 32.2638936341)],
                knots=[0.6107167779, 0.6107167779, 0.6107167779, 0.6107167779, 0.6466144947, 0.693376875, 0.7109623935, 0.735681403, 0.7555531863, 0.7953750401, 0.8295963171, 0.8637503019, 0.8901725632, 0.9107672303, 0.9269201805, 0.9466634509, 0.9687907127, 0.9839058477, 1, 1, 1, 1], degree=3))
        make_face()
    extrude(amount=F1_DEPTH)


with BuildPart() as f2:
    # F0 (on Top) → F2 (new body)
    with BuildSketch(Plane.XY):
        with BuildLine():
            add(Edge.make_bspline(
                [(-36.6754420102, 30.3380247205), (-35.983352609, 30.6781425983), (-34.0466723667, 34.5494549383), (-33.2522831009, 38.3940211283), (-32.9422929632, 40.624105503), (-33.2663618028, 41.2331409752)],
                knots=[0.730938832, 0.730938832, 0.730938832, 0.730938832, 0.7948642557, 0.8585212876, 0.9064207194, 0.9064207194, 0.9064207194, 0.9064207194], degree=3))
            add(Edge.make_bspline(
                [(-36.6754420102, 30.3380247205), (-36.2383596816, 29.7576702511), (-35.5733840075, 28.8747207945), (-35.3395640048, 28.2803540824), (-35.2701960817, 28.0838639306)],
                knots=[0, 0, 0, 0, 0.601630299, 0.9153184365, 0.9153184365, 0.9153184365, 0.9153184365], degree=3))
            add(Edge.make_bspline(
                [(-30.5477995425, 32.2638936341), (-30.8259861982, 32.9318374784), (-31.2816634665, 34.0259475666), (-31.9602367436, 34.8843429425), (-32.3592444627, 34.6792088573), (-31.6664294702, 34.0848684637), (-30.9058128534, 31.7362996505), (-30.7552317832, 31.5590472352), (-30.8924777047, 30.786324938), (-30.1897658271, 30.4299136187), (-30.3102745341, 29.2372777766), (-29.9929347991, 26.6320859943), (-30.7006366063, 26.4277102856), (-31.7220006078, 26.3276921777), (-32.1341794292, 26.8166201283), (-31.5795252587, 30.5492707862), (-32.2581120518, 30.3237563387), (-31.9489549464, 31.1820106544), (-32.6111029681, 31.3412009001), (-32.4193759611, 32.9974050461), (-32.9955320646, 33.7533551936), (-33.3015650113, 31.8295593185), (-34.1063608356, 30.2681945805), (-34.6000410032, 30.6372395968), (-35.1339531533, 29.0576720566), (-35.2066699544, 28.5977991996), (-35.2874309994, 28.2161022776), (-35.2701960817, 28.0838639306)],
                knots=[0, 0, 0, 0, 0.026350934, 0.0440943278, 0.0523191965, 0.0684796068, 0.0975180261, 0.1069266163, 0.1217127643, 0.1362142844, 0.1563820745, 0.1853711669, 0.199248541, 0.2170394707, 0.2309489717, 0.2651055639, 0.2741628536, 0.2887613758, 0.3016133236, 0.3249696218, 0.3377177808, 0.3611883611, 0.384876227, 0.3947839463, 0.416858277, 0.4317482235, 0.4414812599, 0.4414812599, 0.4414812599, 0.4414812599], degree=3))
            add(Edge.make_bspline(
                [(-31.8009853363, 42.9518073797), (-31.9835913162, 42.3032993477), (-31.5231626493, 41.2487520705), (-31.3514866101, 37.6798323756), (-31.7708803543, 37.451018234), (-31.9722383495, 36.2762544023), (-31.1449799863, 36.2544957586), (-30.0378102711, 33.9471282602), (-29.3010020442, 32.6705591271), (-27.8674265498, 31.1277234947), (-28.8046664653, 30.2005494014), (-29.6015184284, 30.0074054541), (-29.5996137081, 30.566226712), (-30.0731113389, 30.9302547356), (-30.0332290243, 31.7869425738), (-30.50059334, 31.8332616908), (-30.5495296596, 32.1146365113), (-30.5477995425, 32.2638936341)],
                knots=[0.6107167779, 0.6107167779, 0.6107167779, 0.6107167779, 0.6466144947, 0.693376875, 0.7109623935, 0.735681403, 0.7555531863, 0.7953750401, 0.8295963171, 0.8637503019, 0.8901725632, 0.9107672303, 0.9269201805, 0.9466634509, 0.9687907127, 0.9839058477, 1, 1, 1, 1], degree=3))
            add(Edge.make_bspline(
                [(-33.2663618028, 41.2331409752), (-33.0320313974, 41.361550997), (-32.4878244142, 41.6597693629), (-32.0501826663, 42.483033202), (-31.8009853363, 42.9518073797)],
                knots=[0, 0, 0, 0, 0.430590589, 1, 1, 1, 1], degree=3))
        make_face()
    extrude(amount=F2_DEPTH)


solid = Compound([f1.part, f1b.part, f2.part])
